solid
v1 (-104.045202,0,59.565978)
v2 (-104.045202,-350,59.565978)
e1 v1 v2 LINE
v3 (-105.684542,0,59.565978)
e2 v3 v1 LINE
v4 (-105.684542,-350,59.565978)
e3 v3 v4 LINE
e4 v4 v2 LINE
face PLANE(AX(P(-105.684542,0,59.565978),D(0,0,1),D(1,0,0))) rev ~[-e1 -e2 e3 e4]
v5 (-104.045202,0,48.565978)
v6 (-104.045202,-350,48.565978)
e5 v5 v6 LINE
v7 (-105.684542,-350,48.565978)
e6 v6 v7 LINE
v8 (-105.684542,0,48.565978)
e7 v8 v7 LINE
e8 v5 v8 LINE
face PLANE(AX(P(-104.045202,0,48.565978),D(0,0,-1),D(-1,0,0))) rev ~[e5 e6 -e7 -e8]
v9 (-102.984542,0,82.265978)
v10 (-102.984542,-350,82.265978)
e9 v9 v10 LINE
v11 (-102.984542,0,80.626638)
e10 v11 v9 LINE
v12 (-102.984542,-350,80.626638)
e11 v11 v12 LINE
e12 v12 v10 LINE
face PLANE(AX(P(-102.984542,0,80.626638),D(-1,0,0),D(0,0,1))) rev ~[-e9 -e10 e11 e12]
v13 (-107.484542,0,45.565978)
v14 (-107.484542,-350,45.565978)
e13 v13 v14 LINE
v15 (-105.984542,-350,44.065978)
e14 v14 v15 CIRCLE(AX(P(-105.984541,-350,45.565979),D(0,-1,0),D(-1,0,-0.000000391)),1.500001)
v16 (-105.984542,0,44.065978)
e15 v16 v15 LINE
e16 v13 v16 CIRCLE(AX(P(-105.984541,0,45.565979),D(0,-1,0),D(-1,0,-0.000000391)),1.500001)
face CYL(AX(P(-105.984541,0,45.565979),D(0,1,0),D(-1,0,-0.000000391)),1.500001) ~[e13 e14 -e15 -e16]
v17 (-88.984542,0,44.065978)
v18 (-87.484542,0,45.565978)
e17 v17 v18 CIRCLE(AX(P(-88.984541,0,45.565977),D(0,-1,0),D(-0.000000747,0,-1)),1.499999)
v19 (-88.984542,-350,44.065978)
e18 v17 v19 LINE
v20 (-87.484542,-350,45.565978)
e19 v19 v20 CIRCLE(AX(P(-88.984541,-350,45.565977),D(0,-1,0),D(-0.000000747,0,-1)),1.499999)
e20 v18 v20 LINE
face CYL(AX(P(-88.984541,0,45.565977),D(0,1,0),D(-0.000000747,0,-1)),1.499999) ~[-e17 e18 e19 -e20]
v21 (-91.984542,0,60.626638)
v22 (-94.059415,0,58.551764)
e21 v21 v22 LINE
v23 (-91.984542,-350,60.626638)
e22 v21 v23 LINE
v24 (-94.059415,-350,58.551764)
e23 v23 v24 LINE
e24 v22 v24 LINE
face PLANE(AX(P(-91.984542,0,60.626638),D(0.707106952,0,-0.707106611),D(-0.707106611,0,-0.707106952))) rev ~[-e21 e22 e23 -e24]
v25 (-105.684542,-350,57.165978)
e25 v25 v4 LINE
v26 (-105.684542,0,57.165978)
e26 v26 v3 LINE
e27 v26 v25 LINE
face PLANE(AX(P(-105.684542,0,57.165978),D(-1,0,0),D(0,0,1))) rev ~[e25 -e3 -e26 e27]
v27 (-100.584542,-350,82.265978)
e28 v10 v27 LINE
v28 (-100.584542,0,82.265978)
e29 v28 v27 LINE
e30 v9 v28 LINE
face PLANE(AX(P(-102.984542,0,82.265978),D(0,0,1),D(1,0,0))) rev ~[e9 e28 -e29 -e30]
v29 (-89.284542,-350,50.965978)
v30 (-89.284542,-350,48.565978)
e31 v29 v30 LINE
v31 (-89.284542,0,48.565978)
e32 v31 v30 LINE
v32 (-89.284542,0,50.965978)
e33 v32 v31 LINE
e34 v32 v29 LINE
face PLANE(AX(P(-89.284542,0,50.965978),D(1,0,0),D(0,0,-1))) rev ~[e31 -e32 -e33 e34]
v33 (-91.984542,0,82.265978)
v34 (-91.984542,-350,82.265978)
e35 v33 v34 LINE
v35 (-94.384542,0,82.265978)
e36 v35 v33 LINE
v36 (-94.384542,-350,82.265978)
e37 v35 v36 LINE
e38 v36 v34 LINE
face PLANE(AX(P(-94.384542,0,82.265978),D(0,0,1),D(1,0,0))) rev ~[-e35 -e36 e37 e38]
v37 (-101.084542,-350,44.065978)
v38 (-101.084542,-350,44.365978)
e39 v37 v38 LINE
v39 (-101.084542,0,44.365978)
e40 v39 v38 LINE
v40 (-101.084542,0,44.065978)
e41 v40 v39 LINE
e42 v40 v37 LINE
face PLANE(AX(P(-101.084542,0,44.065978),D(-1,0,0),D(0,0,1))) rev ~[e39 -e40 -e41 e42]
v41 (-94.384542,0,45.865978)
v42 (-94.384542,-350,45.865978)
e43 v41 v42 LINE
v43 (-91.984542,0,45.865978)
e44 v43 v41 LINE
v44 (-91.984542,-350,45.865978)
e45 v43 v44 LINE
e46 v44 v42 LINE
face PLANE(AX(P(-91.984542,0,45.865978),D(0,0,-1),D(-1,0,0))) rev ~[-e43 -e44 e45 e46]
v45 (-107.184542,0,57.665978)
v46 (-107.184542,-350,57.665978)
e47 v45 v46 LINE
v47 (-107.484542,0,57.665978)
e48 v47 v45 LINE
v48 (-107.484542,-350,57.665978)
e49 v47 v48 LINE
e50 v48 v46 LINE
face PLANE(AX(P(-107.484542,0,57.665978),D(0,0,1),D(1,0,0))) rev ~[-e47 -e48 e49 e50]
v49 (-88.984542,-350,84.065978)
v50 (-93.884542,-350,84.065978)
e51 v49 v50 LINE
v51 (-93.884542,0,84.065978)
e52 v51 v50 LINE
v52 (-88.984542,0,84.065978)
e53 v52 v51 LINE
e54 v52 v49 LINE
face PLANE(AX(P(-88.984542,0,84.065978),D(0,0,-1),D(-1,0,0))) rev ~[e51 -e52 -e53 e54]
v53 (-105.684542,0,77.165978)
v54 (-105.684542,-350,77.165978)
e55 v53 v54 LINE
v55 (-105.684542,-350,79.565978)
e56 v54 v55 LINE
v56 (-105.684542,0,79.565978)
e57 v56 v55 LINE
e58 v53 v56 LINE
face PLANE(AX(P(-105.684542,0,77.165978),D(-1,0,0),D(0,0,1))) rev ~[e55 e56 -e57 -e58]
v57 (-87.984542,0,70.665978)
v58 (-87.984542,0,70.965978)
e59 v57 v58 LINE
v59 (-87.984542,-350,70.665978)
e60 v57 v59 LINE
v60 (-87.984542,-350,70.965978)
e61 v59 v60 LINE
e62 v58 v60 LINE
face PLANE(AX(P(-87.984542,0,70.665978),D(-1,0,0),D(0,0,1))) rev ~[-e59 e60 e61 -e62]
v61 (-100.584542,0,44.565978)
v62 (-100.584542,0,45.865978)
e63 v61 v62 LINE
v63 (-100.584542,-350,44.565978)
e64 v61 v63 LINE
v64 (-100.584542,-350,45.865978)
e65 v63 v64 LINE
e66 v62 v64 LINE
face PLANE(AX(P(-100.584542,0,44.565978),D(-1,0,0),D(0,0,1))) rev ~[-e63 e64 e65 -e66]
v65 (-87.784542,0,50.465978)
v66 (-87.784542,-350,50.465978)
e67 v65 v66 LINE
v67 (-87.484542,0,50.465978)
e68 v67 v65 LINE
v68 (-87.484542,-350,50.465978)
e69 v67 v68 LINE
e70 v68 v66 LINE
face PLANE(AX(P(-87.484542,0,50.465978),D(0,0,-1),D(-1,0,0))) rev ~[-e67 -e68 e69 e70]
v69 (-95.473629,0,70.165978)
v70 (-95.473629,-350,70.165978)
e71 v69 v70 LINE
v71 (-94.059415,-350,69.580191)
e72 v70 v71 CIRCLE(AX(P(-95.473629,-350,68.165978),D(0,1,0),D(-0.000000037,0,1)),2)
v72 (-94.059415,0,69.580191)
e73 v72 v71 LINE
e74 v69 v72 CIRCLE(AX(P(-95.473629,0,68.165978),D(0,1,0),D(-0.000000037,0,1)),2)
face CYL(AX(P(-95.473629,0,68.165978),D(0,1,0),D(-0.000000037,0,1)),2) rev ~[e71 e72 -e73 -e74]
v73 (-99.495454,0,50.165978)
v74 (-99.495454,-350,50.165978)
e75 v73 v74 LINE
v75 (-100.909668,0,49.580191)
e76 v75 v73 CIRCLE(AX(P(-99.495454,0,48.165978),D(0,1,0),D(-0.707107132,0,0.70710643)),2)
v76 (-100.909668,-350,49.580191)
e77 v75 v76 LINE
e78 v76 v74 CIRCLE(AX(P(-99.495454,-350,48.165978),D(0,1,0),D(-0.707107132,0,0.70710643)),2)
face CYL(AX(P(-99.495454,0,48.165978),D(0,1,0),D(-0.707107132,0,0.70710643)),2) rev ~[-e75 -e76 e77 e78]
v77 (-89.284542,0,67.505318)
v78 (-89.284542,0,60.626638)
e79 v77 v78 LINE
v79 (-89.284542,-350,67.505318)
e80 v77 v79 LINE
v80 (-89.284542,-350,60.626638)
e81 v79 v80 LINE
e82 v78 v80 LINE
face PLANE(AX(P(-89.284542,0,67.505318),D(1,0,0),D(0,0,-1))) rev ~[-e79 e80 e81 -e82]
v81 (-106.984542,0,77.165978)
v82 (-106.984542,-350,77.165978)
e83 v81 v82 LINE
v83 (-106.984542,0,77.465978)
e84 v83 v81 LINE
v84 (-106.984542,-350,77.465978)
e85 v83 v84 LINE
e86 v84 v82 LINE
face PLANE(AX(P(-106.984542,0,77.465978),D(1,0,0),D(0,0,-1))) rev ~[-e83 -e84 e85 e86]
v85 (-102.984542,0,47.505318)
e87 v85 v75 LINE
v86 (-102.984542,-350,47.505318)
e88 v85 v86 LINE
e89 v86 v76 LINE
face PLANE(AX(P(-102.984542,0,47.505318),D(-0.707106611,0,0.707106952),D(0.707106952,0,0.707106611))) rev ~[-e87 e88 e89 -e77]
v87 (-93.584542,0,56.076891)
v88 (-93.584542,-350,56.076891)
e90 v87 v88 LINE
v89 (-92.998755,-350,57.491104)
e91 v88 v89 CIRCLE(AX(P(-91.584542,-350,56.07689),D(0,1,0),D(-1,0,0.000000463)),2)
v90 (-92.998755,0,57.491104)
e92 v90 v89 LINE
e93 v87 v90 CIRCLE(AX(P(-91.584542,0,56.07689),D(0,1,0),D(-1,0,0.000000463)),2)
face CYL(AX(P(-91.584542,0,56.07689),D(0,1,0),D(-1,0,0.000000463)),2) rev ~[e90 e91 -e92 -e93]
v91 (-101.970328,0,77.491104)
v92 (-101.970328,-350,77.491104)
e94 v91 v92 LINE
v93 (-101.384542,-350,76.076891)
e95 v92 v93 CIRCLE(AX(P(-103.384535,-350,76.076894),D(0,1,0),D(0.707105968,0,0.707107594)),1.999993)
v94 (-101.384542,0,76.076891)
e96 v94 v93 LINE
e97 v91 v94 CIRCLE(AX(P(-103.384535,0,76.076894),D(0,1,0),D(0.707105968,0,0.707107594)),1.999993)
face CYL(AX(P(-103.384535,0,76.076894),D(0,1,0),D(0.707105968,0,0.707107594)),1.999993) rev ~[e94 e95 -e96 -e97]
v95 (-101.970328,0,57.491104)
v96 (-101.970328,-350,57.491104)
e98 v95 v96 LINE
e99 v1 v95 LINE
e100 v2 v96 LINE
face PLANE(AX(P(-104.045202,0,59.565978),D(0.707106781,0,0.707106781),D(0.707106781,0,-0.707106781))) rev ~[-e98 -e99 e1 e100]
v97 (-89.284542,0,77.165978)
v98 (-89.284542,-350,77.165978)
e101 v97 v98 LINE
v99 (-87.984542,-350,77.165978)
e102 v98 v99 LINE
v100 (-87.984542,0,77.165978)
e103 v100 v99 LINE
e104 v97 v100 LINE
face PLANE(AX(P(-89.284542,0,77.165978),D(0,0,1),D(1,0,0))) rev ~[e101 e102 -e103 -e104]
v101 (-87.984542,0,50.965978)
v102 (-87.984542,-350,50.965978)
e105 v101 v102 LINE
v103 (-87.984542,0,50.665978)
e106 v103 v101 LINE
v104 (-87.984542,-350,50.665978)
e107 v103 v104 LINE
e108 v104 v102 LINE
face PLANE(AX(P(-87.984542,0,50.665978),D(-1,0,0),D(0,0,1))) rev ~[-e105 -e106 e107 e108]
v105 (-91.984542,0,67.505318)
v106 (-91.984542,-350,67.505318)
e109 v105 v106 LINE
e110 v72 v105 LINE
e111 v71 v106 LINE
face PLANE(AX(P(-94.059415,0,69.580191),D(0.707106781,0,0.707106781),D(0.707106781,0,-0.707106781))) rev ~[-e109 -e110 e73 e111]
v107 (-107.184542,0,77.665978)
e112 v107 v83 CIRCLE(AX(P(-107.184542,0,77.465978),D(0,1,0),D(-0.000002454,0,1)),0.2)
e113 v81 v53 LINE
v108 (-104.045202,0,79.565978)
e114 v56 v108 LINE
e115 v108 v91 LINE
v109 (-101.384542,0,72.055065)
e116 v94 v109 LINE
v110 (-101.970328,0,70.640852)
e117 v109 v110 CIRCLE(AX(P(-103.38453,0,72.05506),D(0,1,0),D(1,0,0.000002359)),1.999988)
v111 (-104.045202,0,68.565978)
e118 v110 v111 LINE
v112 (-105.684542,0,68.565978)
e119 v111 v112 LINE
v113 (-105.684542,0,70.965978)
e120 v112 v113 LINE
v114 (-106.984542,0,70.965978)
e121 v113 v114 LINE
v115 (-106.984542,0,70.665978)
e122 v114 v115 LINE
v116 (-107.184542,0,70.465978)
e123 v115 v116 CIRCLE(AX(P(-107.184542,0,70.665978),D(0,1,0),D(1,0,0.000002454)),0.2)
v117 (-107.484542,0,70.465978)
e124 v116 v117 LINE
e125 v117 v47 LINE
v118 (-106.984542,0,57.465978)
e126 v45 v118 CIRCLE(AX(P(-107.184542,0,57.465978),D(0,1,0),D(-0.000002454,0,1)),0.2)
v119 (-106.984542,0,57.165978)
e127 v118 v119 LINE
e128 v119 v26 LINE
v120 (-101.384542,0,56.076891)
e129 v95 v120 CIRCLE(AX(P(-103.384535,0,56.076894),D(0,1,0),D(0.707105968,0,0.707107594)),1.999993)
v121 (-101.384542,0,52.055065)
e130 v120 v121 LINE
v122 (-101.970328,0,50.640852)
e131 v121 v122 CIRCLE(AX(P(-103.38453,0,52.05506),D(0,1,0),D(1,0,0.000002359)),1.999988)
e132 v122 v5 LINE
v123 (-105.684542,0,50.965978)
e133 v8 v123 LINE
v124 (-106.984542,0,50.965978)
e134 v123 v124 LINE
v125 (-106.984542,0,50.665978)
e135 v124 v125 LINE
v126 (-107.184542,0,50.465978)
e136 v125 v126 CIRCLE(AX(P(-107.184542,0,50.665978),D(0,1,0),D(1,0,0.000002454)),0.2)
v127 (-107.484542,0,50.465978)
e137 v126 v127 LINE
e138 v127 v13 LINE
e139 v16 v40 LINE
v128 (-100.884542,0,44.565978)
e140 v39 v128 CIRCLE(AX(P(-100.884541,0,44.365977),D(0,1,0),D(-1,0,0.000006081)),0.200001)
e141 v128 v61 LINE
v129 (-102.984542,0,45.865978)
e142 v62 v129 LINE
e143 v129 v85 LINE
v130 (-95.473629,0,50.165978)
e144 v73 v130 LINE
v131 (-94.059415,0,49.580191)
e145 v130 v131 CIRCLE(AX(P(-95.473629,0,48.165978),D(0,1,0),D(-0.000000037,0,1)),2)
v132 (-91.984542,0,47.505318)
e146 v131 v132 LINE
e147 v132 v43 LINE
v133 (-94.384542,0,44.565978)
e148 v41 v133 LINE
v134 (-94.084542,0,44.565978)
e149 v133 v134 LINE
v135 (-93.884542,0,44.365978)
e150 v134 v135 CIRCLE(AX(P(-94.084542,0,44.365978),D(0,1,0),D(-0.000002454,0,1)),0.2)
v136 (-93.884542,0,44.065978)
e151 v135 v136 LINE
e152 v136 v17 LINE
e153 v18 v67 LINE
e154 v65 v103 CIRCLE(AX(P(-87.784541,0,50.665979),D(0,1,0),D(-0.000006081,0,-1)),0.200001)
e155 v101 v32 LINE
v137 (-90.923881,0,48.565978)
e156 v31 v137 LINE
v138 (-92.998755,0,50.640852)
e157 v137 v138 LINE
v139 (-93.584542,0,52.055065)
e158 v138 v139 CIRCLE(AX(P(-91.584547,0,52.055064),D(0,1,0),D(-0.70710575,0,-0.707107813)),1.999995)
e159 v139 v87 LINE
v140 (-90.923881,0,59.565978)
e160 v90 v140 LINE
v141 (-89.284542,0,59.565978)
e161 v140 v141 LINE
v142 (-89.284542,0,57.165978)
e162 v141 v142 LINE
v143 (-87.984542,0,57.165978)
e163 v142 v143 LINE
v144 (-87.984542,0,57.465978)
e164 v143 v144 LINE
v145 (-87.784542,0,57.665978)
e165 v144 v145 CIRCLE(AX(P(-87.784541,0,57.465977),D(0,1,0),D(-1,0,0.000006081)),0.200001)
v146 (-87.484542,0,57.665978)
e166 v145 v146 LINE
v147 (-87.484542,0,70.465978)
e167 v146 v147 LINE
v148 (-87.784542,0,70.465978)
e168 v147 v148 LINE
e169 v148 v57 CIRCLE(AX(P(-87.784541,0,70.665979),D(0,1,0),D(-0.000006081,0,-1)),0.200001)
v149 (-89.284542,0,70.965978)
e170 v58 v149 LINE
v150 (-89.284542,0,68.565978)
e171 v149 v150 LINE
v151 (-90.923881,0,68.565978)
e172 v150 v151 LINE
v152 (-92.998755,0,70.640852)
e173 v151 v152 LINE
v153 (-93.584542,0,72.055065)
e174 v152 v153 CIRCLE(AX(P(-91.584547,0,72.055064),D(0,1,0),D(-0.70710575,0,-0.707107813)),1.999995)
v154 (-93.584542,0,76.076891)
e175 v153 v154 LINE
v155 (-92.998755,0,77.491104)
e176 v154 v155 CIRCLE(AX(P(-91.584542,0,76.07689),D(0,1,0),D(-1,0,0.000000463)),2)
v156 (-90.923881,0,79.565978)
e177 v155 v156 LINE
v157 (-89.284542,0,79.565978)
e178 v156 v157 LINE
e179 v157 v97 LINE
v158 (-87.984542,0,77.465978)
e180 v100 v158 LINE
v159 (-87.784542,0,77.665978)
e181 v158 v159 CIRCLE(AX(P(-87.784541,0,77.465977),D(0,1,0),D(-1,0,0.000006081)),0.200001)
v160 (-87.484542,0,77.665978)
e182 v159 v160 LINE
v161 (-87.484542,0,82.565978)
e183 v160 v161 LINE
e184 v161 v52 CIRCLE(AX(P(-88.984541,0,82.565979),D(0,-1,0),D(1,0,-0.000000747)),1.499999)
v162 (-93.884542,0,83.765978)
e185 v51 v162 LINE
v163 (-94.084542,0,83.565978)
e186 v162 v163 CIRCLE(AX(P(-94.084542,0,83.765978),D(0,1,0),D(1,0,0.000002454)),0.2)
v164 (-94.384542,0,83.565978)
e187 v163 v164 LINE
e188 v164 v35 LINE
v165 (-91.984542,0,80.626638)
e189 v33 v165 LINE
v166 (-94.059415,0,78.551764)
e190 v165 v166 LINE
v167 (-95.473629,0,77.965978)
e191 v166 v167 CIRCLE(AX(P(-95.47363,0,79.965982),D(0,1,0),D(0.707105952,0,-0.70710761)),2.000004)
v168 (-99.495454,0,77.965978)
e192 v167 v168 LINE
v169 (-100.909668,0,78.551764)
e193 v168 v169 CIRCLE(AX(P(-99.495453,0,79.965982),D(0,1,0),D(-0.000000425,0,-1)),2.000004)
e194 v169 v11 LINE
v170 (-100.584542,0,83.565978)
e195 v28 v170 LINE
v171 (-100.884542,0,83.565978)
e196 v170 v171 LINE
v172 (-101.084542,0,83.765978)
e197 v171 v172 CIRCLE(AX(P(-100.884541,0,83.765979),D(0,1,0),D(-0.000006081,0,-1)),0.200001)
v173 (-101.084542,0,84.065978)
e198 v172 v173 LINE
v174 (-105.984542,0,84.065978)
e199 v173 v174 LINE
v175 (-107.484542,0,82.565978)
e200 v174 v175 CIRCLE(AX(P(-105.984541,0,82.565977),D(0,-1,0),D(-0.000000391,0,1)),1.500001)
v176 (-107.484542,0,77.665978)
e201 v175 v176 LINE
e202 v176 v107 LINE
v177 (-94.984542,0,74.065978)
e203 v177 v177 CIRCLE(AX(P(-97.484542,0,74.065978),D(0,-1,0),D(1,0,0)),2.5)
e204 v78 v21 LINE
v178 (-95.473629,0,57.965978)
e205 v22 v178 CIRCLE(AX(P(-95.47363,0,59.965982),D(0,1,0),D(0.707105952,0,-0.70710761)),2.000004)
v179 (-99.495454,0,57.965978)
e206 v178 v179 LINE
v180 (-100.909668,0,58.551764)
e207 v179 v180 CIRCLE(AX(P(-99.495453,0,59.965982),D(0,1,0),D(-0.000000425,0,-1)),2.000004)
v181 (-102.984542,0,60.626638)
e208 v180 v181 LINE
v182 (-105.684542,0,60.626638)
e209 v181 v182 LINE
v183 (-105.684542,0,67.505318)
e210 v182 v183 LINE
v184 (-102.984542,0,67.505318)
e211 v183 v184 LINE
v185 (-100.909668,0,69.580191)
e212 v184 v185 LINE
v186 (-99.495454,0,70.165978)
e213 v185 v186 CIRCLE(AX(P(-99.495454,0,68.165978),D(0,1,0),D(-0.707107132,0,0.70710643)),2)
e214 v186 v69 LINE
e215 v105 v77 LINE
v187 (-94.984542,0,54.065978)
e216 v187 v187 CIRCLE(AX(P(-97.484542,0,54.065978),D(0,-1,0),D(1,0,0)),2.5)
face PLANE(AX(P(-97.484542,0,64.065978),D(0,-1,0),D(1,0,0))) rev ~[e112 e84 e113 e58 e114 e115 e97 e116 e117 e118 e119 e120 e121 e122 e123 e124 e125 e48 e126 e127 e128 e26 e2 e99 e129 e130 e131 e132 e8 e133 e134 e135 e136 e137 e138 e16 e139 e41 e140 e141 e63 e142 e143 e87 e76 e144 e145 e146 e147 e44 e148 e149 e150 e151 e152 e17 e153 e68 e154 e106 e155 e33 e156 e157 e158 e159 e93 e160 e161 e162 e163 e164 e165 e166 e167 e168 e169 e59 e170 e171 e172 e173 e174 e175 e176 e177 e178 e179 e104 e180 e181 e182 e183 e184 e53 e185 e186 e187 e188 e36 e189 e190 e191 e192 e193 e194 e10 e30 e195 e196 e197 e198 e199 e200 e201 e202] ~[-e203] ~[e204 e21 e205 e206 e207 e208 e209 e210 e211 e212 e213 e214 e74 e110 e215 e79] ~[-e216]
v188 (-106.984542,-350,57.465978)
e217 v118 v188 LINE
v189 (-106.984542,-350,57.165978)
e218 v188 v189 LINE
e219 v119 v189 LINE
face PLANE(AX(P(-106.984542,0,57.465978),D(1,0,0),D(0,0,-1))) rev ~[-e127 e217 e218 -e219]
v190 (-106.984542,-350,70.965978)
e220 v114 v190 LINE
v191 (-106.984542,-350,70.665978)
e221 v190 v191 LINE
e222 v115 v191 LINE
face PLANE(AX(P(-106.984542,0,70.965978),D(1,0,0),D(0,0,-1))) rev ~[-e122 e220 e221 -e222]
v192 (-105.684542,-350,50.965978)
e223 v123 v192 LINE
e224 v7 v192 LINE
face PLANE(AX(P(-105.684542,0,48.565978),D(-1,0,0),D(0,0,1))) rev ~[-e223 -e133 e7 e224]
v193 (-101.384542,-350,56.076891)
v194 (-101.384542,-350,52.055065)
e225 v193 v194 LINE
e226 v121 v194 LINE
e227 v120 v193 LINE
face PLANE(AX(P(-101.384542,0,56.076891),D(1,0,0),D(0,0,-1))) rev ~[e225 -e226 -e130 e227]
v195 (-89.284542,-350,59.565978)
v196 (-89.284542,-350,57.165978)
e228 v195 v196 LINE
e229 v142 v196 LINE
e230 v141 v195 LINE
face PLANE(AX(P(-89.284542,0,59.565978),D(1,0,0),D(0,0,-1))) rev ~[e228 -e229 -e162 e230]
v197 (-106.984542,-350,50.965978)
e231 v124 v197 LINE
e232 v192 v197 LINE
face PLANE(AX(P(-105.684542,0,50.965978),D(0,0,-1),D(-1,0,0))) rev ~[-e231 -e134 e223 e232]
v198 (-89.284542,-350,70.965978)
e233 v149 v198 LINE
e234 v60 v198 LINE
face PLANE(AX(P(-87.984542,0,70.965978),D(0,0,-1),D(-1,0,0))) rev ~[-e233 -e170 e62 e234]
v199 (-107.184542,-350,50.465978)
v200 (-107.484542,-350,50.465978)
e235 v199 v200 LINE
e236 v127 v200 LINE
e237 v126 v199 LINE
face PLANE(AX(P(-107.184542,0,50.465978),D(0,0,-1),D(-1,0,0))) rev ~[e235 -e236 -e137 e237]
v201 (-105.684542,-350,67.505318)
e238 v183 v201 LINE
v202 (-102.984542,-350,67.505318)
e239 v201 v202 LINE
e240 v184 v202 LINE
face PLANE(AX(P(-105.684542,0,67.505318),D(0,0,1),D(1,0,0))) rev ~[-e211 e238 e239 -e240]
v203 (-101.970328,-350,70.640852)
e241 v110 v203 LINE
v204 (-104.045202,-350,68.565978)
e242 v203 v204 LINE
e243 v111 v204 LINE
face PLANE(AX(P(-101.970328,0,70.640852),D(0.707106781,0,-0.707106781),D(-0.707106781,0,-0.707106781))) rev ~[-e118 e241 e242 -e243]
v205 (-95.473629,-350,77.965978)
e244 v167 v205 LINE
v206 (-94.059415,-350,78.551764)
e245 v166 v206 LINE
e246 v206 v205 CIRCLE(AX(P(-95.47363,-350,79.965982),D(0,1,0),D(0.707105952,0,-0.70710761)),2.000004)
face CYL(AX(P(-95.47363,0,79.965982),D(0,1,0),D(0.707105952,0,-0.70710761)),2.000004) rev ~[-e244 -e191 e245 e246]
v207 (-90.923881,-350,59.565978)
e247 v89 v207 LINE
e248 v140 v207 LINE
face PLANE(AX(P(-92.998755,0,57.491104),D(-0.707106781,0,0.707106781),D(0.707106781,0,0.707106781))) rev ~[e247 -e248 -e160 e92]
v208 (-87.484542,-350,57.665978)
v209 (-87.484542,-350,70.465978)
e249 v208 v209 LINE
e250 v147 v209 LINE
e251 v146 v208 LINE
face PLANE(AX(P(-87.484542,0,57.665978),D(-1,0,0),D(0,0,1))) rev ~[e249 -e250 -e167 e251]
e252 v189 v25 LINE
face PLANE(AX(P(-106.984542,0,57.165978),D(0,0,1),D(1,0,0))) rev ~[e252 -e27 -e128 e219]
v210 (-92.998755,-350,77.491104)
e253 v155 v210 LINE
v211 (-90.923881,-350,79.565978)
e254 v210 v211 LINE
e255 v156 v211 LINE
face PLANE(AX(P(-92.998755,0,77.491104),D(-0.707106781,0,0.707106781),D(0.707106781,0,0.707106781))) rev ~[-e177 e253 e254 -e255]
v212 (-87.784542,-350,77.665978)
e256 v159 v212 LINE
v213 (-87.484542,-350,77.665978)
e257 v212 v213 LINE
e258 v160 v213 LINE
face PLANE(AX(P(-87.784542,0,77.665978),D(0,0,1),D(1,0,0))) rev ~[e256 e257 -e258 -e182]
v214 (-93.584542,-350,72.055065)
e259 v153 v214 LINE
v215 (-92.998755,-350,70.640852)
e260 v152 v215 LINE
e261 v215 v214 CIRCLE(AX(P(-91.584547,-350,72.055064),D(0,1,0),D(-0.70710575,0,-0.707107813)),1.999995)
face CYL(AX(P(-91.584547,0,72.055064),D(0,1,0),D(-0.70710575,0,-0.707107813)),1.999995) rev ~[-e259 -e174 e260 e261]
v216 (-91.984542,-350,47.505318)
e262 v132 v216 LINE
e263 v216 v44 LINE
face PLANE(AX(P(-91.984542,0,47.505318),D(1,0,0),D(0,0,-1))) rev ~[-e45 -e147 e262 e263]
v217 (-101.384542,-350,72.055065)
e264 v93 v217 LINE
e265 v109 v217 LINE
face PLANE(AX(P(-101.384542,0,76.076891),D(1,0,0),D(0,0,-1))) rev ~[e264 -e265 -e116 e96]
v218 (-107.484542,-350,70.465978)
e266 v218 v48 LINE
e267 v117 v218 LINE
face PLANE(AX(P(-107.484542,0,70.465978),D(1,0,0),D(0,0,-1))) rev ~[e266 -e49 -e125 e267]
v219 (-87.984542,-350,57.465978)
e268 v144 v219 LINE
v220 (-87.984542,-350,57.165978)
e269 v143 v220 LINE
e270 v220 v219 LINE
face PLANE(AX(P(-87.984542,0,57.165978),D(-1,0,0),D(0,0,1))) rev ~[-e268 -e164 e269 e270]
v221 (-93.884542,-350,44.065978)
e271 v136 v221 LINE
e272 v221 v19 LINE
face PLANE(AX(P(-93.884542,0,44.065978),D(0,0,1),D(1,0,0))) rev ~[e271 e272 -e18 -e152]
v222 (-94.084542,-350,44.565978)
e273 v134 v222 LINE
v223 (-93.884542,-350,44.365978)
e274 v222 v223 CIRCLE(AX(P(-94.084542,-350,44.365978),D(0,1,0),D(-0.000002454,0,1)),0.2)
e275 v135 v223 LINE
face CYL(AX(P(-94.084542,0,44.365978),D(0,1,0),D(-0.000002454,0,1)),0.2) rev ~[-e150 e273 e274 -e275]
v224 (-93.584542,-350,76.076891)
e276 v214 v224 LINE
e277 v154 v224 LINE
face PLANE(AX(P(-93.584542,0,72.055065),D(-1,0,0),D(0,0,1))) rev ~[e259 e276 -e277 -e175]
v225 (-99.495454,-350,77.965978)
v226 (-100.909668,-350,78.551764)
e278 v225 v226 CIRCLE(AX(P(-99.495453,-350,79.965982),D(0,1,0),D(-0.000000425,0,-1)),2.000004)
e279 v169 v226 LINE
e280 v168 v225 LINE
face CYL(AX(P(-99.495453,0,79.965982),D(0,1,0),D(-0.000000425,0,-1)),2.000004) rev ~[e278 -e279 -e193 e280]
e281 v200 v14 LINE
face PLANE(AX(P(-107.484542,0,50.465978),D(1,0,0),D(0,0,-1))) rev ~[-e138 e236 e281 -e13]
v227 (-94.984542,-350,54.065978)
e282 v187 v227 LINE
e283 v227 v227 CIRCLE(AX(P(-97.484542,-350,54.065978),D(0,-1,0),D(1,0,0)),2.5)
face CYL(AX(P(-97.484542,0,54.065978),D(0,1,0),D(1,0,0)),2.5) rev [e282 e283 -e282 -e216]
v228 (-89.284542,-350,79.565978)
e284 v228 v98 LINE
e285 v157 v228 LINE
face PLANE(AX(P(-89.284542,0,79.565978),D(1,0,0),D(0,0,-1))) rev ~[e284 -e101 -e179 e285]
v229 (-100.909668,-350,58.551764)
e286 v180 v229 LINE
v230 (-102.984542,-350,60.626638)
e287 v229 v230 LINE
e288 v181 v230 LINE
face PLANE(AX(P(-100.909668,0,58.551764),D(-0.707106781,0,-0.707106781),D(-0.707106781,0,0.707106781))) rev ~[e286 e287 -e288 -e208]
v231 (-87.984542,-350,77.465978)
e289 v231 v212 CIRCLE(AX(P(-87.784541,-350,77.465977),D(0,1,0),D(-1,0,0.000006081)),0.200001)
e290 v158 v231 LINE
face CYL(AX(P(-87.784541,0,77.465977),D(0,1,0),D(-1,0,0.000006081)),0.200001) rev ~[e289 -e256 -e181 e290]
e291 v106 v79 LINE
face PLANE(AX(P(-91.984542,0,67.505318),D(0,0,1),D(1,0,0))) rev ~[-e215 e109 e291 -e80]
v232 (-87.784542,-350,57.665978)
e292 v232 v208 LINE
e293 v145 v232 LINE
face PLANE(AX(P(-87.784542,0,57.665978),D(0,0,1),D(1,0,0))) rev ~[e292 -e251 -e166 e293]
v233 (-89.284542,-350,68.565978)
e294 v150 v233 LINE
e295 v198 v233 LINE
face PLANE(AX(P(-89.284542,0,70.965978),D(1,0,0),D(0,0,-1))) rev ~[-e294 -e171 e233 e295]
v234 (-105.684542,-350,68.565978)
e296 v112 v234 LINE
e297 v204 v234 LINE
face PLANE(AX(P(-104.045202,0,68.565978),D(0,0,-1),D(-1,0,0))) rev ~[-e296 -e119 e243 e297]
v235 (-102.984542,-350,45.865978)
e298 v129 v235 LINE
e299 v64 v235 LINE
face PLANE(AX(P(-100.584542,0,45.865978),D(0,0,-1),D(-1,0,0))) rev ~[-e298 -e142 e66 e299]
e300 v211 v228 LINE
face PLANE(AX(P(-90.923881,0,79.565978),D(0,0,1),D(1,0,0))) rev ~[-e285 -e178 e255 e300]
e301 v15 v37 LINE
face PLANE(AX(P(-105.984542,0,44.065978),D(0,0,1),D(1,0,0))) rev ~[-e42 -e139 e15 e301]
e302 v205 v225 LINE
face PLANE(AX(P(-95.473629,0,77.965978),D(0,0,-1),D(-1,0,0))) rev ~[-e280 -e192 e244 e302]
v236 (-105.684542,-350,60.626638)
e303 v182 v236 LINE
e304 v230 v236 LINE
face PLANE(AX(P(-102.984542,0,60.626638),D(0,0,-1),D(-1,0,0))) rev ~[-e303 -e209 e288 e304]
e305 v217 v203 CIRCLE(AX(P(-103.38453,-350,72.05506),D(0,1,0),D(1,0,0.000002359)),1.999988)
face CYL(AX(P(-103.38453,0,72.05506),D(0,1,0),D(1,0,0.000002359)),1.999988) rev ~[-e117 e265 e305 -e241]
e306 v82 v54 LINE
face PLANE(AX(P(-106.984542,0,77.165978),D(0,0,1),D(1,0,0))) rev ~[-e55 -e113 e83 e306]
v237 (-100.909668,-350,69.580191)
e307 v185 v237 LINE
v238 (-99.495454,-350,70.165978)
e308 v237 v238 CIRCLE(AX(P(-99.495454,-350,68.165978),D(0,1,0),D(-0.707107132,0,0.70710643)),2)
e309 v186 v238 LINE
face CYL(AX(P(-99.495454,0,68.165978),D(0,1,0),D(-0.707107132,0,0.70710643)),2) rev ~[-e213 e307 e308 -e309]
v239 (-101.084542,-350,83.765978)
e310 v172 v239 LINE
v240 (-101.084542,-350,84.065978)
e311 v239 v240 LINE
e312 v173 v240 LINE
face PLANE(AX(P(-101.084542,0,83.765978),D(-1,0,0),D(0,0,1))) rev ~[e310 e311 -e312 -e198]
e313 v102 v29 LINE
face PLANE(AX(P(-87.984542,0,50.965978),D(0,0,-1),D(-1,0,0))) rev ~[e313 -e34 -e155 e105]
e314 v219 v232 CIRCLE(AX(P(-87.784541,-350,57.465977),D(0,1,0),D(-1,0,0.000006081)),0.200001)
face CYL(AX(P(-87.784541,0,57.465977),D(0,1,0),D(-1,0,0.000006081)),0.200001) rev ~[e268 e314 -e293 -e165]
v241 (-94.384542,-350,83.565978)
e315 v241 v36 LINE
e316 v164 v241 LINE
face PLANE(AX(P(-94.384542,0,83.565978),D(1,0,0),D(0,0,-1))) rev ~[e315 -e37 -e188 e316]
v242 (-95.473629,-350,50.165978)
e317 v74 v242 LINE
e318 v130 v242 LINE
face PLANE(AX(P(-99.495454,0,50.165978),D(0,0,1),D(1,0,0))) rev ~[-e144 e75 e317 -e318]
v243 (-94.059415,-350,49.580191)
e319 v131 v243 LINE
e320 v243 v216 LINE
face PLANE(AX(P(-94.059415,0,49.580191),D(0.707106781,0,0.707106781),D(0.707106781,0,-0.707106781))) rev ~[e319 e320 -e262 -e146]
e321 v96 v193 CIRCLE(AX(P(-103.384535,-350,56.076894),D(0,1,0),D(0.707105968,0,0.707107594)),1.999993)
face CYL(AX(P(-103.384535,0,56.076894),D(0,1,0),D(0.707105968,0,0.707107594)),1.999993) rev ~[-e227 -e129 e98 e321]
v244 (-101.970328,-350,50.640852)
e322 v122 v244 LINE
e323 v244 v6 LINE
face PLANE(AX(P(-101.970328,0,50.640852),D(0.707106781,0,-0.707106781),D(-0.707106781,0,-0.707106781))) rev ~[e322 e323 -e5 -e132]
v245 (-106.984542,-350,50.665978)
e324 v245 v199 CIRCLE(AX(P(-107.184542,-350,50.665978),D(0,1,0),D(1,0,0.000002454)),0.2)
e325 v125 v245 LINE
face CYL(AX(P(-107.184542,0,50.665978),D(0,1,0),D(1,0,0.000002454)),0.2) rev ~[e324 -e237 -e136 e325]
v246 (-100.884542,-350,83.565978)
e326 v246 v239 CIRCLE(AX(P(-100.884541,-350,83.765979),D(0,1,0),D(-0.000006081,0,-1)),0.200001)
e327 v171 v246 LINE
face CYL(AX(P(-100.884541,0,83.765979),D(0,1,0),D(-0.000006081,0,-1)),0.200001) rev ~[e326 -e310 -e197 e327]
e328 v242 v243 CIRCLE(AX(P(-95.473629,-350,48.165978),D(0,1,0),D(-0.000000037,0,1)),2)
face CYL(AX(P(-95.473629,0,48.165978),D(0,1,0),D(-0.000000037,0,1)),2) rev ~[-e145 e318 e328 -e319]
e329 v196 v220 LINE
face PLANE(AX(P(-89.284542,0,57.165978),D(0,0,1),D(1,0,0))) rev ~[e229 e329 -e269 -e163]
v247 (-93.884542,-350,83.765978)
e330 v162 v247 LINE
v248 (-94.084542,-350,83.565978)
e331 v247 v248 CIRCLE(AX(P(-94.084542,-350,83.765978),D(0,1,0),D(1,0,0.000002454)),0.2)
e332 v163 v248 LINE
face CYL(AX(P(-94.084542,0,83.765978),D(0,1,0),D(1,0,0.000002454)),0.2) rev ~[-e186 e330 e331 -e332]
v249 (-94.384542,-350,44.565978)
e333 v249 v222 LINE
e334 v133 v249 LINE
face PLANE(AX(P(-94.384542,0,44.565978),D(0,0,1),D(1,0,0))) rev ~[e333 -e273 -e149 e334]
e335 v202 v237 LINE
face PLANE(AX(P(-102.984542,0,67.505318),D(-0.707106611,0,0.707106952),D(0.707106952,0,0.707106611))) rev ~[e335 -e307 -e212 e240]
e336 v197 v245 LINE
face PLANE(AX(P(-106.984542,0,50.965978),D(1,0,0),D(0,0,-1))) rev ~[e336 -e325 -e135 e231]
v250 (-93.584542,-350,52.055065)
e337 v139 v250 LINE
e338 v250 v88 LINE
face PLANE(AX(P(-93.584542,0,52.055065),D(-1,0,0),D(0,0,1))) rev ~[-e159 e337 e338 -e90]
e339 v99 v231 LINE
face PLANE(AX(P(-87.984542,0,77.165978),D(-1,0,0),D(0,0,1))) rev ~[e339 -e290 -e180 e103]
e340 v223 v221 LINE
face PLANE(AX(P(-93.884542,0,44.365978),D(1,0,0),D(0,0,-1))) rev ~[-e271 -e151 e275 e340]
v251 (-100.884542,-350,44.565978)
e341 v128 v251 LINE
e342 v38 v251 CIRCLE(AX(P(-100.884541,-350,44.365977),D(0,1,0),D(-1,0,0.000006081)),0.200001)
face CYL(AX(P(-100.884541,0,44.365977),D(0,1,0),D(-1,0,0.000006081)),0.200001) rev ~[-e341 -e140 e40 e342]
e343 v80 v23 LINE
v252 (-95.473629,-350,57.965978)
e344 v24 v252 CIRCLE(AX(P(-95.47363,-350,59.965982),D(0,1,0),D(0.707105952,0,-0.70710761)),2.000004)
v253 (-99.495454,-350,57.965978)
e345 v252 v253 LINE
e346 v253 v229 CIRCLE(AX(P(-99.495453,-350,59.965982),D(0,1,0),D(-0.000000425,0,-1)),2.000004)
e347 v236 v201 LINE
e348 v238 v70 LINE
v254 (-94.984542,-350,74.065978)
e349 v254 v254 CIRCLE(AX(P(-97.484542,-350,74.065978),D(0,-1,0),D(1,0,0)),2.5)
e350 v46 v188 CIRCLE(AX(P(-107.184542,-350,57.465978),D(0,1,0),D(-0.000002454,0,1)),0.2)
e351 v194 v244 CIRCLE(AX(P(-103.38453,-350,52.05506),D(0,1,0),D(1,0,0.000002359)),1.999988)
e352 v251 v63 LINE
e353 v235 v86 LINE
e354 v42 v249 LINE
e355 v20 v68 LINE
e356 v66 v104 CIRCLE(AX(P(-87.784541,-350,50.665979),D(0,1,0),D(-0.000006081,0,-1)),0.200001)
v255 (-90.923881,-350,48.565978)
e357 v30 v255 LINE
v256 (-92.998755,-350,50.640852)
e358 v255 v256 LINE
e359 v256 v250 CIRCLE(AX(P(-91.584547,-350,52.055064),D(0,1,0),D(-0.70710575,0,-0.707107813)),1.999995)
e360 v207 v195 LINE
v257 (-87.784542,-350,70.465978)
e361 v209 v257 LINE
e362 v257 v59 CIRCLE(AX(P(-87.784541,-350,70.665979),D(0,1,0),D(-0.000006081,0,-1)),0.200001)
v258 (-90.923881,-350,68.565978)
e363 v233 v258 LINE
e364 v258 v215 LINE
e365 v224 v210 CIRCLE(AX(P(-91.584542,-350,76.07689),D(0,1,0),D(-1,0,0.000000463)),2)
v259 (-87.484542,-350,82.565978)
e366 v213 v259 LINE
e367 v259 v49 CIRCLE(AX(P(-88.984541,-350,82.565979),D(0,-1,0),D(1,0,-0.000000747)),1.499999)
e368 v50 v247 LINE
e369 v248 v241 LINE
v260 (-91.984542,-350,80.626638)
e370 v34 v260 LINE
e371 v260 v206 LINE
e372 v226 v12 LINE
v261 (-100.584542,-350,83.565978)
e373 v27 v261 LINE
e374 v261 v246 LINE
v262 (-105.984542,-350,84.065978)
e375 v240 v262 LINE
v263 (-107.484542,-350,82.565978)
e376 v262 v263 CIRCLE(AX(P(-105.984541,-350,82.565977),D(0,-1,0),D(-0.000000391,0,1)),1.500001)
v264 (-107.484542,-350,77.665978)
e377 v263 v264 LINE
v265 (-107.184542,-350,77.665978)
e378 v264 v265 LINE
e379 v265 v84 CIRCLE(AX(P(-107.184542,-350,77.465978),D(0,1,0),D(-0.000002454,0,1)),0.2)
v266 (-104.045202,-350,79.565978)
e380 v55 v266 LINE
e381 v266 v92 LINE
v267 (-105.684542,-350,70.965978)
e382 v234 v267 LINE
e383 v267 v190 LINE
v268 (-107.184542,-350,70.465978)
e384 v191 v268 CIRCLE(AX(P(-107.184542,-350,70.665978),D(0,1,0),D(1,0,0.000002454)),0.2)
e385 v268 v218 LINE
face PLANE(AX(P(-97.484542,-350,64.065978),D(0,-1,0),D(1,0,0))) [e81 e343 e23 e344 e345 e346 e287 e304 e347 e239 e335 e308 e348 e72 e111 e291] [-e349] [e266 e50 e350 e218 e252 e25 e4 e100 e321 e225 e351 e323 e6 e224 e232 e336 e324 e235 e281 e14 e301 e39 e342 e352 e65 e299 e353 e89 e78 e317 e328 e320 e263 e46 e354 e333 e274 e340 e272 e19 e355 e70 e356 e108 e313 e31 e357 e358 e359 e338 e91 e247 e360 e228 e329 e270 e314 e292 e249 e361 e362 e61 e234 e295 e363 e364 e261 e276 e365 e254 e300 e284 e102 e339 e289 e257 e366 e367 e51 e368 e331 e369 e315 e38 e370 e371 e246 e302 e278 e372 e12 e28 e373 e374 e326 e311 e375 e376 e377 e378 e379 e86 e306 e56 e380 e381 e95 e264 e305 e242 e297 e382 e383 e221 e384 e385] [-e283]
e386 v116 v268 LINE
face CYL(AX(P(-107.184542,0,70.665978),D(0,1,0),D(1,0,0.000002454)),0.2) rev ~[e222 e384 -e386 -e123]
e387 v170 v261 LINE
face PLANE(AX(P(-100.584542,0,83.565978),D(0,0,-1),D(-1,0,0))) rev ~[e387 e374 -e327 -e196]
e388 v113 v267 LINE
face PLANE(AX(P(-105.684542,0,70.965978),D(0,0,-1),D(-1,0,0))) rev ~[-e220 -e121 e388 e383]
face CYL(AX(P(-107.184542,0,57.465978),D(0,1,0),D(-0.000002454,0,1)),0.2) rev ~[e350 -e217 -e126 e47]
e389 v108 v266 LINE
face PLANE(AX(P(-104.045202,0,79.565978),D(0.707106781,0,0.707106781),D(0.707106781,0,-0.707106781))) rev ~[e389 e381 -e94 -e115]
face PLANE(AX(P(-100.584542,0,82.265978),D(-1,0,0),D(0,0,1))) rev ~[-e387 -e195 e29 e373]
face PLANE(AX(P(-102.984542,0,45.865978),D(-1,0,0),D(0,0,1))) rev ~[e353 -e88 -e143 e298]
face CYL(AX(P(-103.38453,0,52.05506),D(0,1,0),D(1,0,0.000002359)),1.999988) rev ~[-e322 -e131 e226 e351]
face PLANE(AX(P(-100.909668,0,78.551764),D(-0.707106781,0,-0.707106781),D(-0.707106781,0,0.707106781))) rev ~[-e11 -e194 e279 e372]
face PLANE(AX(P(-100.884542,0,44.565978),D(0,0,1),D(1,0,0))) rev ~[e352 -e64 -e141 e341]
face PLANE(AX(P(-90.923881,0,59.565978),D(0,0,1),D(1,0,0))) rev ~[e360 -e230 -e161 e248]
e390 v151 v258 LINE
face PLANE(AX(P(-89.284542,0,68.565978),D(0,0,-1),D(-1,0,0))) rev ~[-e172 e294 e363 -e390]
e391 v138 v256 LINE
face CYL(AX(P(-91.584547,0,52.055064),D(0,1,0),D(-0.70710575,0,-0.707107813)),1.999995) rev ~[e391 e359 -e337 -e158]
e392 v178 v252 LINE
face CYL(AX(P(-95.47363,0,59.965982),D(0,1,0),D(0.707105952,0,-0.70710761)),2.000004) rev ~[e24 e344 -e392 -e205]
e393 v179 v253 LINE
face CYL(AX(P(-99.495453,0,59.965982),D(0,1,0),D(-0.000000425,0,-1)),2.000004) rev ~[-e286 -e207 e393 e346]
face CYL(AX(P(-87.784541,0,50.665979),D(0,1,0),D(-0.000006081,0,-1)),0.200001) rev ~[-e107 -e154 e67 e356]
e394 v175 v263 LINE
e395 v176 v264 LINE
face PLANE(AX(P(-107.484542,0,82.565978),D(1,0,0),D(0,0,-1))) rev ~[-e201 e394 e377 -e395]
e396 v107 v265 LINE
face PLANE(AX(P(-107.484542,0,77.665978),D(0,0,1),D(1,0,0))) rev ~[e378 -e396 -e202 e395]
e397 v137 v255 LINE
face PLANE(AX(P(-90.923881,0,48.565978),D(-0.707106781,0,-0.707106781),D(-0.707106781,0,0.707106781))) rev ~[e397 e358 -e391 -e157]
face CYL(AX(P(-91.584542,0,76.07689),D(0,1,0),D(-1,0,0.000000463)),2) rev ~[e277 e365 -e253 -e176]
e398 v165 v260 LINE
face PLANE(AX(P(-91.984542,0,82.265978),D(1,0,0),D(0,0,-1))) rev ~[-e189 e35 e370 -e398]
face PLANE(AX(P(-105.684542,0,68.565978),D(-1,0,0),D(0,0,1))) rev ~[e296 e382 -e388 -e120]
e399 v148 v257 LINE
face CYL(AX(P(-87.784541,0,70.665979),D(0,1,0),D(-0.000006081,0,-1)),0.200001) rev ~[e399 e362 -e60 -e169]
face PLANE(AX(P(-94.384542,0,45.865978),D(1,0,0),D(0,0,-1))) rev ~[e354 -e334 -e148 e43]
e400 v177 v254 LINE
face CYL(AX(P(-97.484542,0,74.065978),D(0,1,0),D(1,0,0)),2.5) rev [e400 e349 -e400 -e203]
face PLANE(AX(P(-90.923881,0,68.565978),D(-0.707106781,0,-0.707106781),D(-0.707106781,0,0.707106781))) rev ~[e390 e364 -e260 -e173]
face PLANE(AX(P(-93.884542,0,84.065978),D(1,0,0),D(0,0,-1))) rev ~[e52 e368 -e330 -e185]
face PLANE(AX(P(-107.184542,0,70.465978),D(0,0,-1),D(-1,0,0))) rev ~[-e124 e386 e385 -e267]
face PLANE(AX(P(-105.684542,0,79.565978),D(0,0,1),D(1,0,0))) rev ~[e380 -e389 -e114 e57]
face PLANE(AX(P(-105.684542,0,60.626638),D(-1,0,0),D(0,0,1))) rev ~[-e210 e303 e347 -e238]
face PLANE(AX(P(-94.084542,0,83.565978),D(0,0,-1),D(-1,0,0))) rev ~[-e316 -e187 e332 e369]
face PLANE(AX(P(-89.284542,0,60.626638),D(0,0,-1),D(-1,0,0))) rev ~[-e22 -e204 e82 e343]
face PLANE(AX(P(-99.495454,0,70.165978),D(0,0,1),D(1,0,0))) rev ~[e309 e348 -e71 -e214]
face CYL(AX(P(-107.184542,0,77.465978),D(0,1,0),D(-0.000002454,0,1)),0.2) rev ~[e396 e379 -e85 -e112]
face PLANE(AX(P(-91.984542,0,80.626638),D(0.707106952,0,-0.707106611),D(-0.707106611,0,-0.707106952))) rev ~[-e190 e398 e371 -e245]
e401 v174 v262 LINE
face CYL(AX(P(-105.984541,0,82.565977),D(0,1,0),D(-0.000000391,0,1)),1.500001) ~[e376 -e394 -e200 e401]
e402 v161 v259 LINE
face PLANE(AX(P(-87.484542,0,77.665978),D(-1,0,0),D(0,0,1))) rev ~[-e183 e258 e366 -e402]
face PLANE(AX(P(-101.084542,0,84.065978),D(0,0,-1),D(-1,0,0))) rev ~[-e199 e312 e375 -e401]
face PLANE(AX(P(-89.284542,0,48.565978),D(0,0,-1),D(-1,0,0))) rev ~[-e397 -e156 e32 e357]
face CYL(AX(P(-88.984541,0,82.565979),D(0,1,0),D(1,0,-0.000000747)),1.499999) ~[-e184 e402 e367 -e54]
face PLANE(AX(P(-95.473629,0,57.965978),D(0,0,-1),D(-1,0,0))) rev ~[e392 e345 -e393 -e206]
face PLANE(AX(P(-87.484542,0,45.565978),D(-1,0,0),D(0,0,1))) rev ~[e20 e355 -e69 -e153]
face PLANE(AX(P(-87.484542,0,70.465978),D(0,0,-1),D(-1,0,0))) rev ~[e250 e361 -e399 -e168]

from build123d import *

# Parameters (mm, degrees)
F0_R     = 2.5
F1_DEPTH = 350


with BuildPart() as f1:
    # F0 (on Front) → F1 (new body)
    with BuildSketch(Plane.XZ):
        with BuildLine():
            Line((-91.984542, 44.065978), (-88.984542, 44.065978))
            ThreePointArc((-88.984542, 44.065978), (-87.923881, 44.505318), (-87.484542, 45.565978))
            Line((-87.484542, 45.565978), (-87.484542, 48.565978))
            Line((-87.484542, 48.565978), (-87.484542, 50.465978))
            Line((-87.484542, 50.465978), (-87.784542, 50.465978))
            ThreePointArc((-87.784542, 50.465978), (-87.925963, 50.524557), (-87.984542, 50.665978))
            Line((-87.984542, 50.665978), (-87.984542, 50.965978))
            Line((-87.984542, 50.965978), (-89.284542, 50.965978))
            Line((-89.284542, 50.965978), (-89.284542, 48.565978))
            Line((-89.284542, 48.565978), (-90.923881, 48.565978))
            Line((-90.923881, 48.565978), (-92.998755, 50.640852))
            ThreePointArc((-92.998755, 50.640852), (-93.432301, 51.289698), (-93.584542, 52.055065))
            Line((-93.584542, 52.055065), (-93.584542, 56.076891))
            ThreePointArc((-93.584542, 56.076891), (-93.432301, 56.842257), (-92.998755, 57.491104))
            Line((-92.998755, 57.491104), (-90.923881, 59.565978))
            Line((-90.923881, 59.565978), (-89.284542, 59.565978))
            Line((-89.284542, 59.565978), (-89.284542, 57.165978))
            Line((-89.284542, 57.165978), (-87.984542, 57.165978))
            Line((-87.984542, 57.165978), (-87.984542, 57.465978))
            ThreePointArc((-87.984542, 57.465978), (-87.925963, 57.607399), (-87.784542, 57.665978))
            Line((-87.784542, 57.665978), (-87.484542, 57.665978))
            Line((-87.484542, 57.665978), (-87.484542, 59.565978))
            Line((-87.484542, 59.565978), (-87.484542, 62.565978))
            Line((-87.484542, 62.565978), (-87.484542, 64.065978))
            Line((-87.484542, 64.065978), (-87.484542, 65.565978))
            Line((-87.484542, 65.565978), (-87.484542, 68.565978))
            Line((-87.484542, 68.565978), (-87.484542, 70.465978))
            Line((-87.484542, 70.465978), (-87.784542, 70.465978))
            ThreePointArc((-87.784542, 70.465978), (-87.925963, 70.524557), (-87.984542, 70.665978))
            Line((-87.984542, 70.665978), (-87.984542, 70.965978))
            Line((-87.984542, 70.965978), (-89.284542, 70.965978))
            Line((-89.284542, 70.965978), (-89.284542, 68.565978))
            Line((-89.284542, 68.565978), (-90.923881, 68.565978))
            Line((-90.923881, 68.565978), (-92.998755, 70.640852))
            ThreePointArc((-92.998755, 70.640852), (-93.432301, 71.289698), (-93.584542, 72.055065))
            Line((-93.584542, 72.055065), (-93.584542, 76.076891))
            ThreePointArc((-93.584542, 76.076891), (-93.432301, 76.842257), (-92.998755, 77.491104))
            Line((-92.998755, 77.491104), (-90.923881, 79.565978))
            Line((-90.923881, 79.565978), (-89.284542, 79.565978))
            Line((-89.284542, 79.565978), (-89.284542, 77.165978))
            Line((-89.284542, 77.165978), (-87.984542, 77.165978))
            Line((-87.984542, 77.165978), (-87.984542, 77.465978))
            ThreePointArc((-87.984542, 77.465978), (-87.925963, 77.607399), (-87.784542, 77.665978))
            Line((-87.784542, 77.665978), (-87.484542, 77.665978))
            Line((-87.484542, 77.665978), (-87.484542, 79.565978))
            Line((-87.484542, 79.565978), (-87.484542, 82.565978))
            ThreePointArc((-87.484542, 82.565978), (-87.923881, 83.626638), (-88.984542, 84.065978))
            Line((-88.984542, 84.065978), (-91.984542, 84.065978))
            Line((-91.984542, 84.065978), (-93.384542, 84.065978))
            Line((-93.384542, 84.065978), (-93.884542, 84.065978))
            Line((-93.884542, 84.065978), (-93.884542, 83.765978))
            ThreePointArc((-93.884542, 83.765978), (-93.94312, 83.624557), (-94.084542, 83.565978))
            Line((-94.084542, 83.565978), (-94.384542, 83.565978))
            Line((-94.384542, 83.565978), (-94.384542, 82.265978))
            Line((-94.384542, 82.265978), (-91.984542, 82.265978))
            Line((-91.984542, 82.265978), (-91.984542, 80.626638))
            Line((-91.984542, 80.626638), (-94.059415, 78.551764))
            ThreePointArc((-94.059415, 78.551764), (-94.708262, 78.118219), (-95.473629, 77.965978))
            Line((-95.473629, 77.965978), (-99.495454, 77.965978))
            ThreePointArc((-99.495454, 77.965978), (-100.260821, 78.118219), (-100.909668, 78.551764))
            Line((-100.909668, 78.551764), (-102.984542, 80.626638))
            Line((-102.984542, 80.626638), (-102.984542, 82.265978))
            Line((-102.984542, 82.265978), (-100.584542, 82.265978))
            Line((-100.584542, 82.265978), (-100.584542, 83.565978))
            Line((-100.584542, 83.565978), (-100.884542, 83.565978))
            ThreePointArc((-100.884542, 83.565978), (-101.025963, 83.624557), (-101.084542, 83.765978))
            Line((-101.084542, 83.765978), (-101.084542, 84.065978))
            Line((-101.084542, 84.065978), (-101.584542, 84.065978))
            Line((-101.584542, 84.065978), (-102.984542, 84.065978))
            Line((-102.984542, 84.065978), (-105.984542, 84.065978))
            ThreePointArc((-105.984542, 84.065978), (-107.045202, 83.626638), (-107.484542, 82.565978))
            Line((-107.484542, 82.565978), (-107.484542, 79.565978))
            Line((-107.484542, 79.565978), (-107.484542, 77.665978))
            Line((-107.484542, 77.665978), (-107.184542, 77.665978))
            ThreePointArc((-107.184542, 77.665978), (-107.04312, 77.607399), (-106.984542, 77.465978))
            Line((-106.984542, 77.465978), (-106.984542, 77.165978))
            Line((-106.984542, 77.165978), (-105.684542, 77.165978))
            Line((-105.684542, 77.165978), (-105.684542, 79.565978))
            Line((-105.684542, 79.565978), (-104.045202, 79.565978))
            Line((-104.045202, 79.565978), (-101.970328, 77.491104))
            ThreePointArc((-101.970328, 77.491104), (-101.536782, 76.842257), (-101.384542, 76.076891))
            Line((-101.384542, 76.076891), (-101.384542, 72.055065))
            ThreePointArc((-101.384542, 72.055065), (-101.536782, 71.289698), (-101.970328, 70.640852))
            Line((-101.970328, 70.640852), (-104.045202, 68.565978))
            Line((-104.045202, 68.565978), (-105.684542, 68.565978))
            Line((-105.684542, 68.565978), (-105.684542, 70.965978))
            Line((-105.684542, 70.965978), (-106.984542, 70.965978))
            Line((-106.984542, 70.965978), (-106.984542, 70.665978))
            ThreePointArc((-106.984542, 70.665978), (-107.04312, 70.524557), (-107.184542, 70.465978))
            Line((-107.184542, 70.465978), (-107.484542, 70.465978))
            Line((-107.484542, 70.465978), (-107.484542, 68.565978))
            Line((-107.484542, 68.565978), (-107.484542, 65.565978))
            Line((-107.484542, 65.565978), (-107.484542, 64.065978))
            Line((-107.484542, 64.065978), (-107.484542, 62.565978))
            Line((-107.484542, 62.565978), (-107.484542, 59.565978))
            Line((-107.484542, 59.565978), (-107.484542, 57.665978))
            Line((-107.484542, 57.665978), (-107.184542, 57.665978))
            ThreePointArc((-107.184542, 57.665978), (-107.04312, 57.607399), (-106.984542, 57.465978))
            Line((-106.984542, 57.465978), (-106.984542, 57.165978))
            Line((-106.984542, 57.165978), (-105.684542, 57.165978))
            Line((-105.684542, 57.165978), (-105.684542, 59.565978))
            Line((-105.684542, 59.565978), (-104.045202, 59.565978))
            Line((-104.045202, 59.565978), (-101.970328, 57.491104))
            ThreePointArc((-101.970328, 57.491104), (-101.536782, 56.842257), (-101.384542, 56.076891))
            Line((-101.384542, 56.076891), (-101.384542, 52.055065))
            ThreePointArc((-101.384542, 52.055065), (-101.536782, 51.289698), (-101.970328, 50.640852))
            Line((-101.970328, 50.640852), (-104.045202, 48.565978))
            Line((-104.045202, 48.565978), (-105.684542, 48.565978))
            Line((-105.684542, 48.565978), (-105.684542, 50.965978))
            Line((-105.684542, 50.965978), (-106.984542, 50.965978))
            Line((-106.984542, 50.965978), (-106.984542, 50.665978))
            ThreePointArc((-106.984542, 50.665978), (-107.04312, 50.524557), (-107.184542, 50.465978))
            Line((-107.184542, 50.465978), (-107.484542, 50.465978))
            Line((-107.484542, 50.465978), (-107.484542, 48.565978))
            Line((-107.484542, 48.565978), (-107.484542, 45.565978))
            ThreePointArc((-107.484542, 45.565978), (-107.045202, 44.505318), (-105.984542, 44.065978))
            Line((-105.984542, 44.065978), (-102.984542, 44.065978))
            Line((-102.984542, 44.065978), (-101.584542, 44.065978))
            Line((-101.584542, 44.065978), (-101.084542, 44.065978))
            Line((-101.084542, 44.065978), (-101.084542, 44.365978))
            ThreePointArc((-101.084542, 44.365978), (-101.025963, 44.507399), (-100.884542, 44.565978))
            Line((-100.884542, 44.565978), (-100.584542, 44.565978))
            Line((-100.584542, 44.565978), (-100.584542, 45.865978))
            Line((-100.584542, 45.865978), (-102.984542, 45.865978))
            Line((-102.984542, 45.865978), (-102.984542, 47.505318))
            Line((-102.984542, 47.505318), (-100.909668, 49.580191))
            ThreePointArc((-100.909668, 49.580191), (-100.260821, 50.013737), (-99.495454, 50.165978))
            Line((-99.495454, 50.165978), (-95.473629, 50.165978))
            ThreePointArc((-95.473629, 50.165978), (-94.708262, 50.013737), (-94.059415, 49.580191))
            Line((-94.059415, 49.580191), (-91.984542, 47.505318))
            Line((-91.984542, 47.505318), (-91.984542, 45.865978))
            Line((-91.984542, 45.865978), (-94.384542, 45.865978))
            Line((-94.384542, 45.865978), (-94.384542, 44.565978))
            Line((-94.384542, 44.565978), (-94.084542, 44.565978))
            ThreePointArc((-94.084542, 44.565978), (-93.94312, 44.507399), (-93.884542, 44.365978))
            Line((-93.884542, 44.365978), (-93.884542, 44.065978))
            Line((-93.884542, 44.065978), (-93.384542, 44.065978))
            Line((-93.384542, 44.065978), (-91.984542, 44.065978))
        make_face()
        with Locations((-97.484542, 54.065978)):
            Circle(F0_R, mode=Mode.SUBTRACT)
        with BuildLine():
            ThreePointArc((-94.059415, 58.551764), (-94.708262, 58.118219), (-95.473629, 57.965978))
            Line((-95.473629, 57.965978), (-99.495454, 57.965978))
            ThreePointArc((-99.495454, 57.965978), (-100.260821, 58.118219), (-100.909668, 58.551764))
            Line((-100.909668, 58.551764), (-102.984542, 60.626638))
            Line((-102.984542, 60.626638), (-105.684542, 60.626638))
            Line((-105.684542, 60.626638), (-105.684542, 64.065978))
            Line((-105.684542, 64.065978), (-105.684542, 67.505318))
            Line((-105.684542, 67.505318), (-102.984542, 67.505318))
            Line((-102.984542, 67.505318), (-100.909668, 69.580191))
            ThreePointArc((-100.909668, 69.580191), (-100.260821, 70.013737), (-99.495454, 70.165978))
            Line((-99.495454, 70.165978), (-95.473629, 70.165978))
            ThreePointArc((-95.473629, 70.165978), (-94.708262, 70.013737), (-94.059415, 69.580191))
            Line((-94.059415, 69.580191), (-91.984542, 67.505318))
            Line((-91.984542, 67.505318), (-89.284542, 67.505318))
            Line((-89.284542, 67.505318), (-89.284542, 64.065978))
            Line((-89.284542, 64.065978), (-89.284542, 60.626638))
            Line((-89.284542, 60.626638), (-91.984542, 60.626638))
            Line((-91.984542, 60.626638), (-94.059415, 58.551764))
        make_face(mode=Mode.SUBTRACT)
        with Locations((-97.484542, 74.065978)):
            Circle(F0_R, mode=Mode.SUBTRACT)
    extrude(amount=F1_DEPTH)


solid = f1.part
